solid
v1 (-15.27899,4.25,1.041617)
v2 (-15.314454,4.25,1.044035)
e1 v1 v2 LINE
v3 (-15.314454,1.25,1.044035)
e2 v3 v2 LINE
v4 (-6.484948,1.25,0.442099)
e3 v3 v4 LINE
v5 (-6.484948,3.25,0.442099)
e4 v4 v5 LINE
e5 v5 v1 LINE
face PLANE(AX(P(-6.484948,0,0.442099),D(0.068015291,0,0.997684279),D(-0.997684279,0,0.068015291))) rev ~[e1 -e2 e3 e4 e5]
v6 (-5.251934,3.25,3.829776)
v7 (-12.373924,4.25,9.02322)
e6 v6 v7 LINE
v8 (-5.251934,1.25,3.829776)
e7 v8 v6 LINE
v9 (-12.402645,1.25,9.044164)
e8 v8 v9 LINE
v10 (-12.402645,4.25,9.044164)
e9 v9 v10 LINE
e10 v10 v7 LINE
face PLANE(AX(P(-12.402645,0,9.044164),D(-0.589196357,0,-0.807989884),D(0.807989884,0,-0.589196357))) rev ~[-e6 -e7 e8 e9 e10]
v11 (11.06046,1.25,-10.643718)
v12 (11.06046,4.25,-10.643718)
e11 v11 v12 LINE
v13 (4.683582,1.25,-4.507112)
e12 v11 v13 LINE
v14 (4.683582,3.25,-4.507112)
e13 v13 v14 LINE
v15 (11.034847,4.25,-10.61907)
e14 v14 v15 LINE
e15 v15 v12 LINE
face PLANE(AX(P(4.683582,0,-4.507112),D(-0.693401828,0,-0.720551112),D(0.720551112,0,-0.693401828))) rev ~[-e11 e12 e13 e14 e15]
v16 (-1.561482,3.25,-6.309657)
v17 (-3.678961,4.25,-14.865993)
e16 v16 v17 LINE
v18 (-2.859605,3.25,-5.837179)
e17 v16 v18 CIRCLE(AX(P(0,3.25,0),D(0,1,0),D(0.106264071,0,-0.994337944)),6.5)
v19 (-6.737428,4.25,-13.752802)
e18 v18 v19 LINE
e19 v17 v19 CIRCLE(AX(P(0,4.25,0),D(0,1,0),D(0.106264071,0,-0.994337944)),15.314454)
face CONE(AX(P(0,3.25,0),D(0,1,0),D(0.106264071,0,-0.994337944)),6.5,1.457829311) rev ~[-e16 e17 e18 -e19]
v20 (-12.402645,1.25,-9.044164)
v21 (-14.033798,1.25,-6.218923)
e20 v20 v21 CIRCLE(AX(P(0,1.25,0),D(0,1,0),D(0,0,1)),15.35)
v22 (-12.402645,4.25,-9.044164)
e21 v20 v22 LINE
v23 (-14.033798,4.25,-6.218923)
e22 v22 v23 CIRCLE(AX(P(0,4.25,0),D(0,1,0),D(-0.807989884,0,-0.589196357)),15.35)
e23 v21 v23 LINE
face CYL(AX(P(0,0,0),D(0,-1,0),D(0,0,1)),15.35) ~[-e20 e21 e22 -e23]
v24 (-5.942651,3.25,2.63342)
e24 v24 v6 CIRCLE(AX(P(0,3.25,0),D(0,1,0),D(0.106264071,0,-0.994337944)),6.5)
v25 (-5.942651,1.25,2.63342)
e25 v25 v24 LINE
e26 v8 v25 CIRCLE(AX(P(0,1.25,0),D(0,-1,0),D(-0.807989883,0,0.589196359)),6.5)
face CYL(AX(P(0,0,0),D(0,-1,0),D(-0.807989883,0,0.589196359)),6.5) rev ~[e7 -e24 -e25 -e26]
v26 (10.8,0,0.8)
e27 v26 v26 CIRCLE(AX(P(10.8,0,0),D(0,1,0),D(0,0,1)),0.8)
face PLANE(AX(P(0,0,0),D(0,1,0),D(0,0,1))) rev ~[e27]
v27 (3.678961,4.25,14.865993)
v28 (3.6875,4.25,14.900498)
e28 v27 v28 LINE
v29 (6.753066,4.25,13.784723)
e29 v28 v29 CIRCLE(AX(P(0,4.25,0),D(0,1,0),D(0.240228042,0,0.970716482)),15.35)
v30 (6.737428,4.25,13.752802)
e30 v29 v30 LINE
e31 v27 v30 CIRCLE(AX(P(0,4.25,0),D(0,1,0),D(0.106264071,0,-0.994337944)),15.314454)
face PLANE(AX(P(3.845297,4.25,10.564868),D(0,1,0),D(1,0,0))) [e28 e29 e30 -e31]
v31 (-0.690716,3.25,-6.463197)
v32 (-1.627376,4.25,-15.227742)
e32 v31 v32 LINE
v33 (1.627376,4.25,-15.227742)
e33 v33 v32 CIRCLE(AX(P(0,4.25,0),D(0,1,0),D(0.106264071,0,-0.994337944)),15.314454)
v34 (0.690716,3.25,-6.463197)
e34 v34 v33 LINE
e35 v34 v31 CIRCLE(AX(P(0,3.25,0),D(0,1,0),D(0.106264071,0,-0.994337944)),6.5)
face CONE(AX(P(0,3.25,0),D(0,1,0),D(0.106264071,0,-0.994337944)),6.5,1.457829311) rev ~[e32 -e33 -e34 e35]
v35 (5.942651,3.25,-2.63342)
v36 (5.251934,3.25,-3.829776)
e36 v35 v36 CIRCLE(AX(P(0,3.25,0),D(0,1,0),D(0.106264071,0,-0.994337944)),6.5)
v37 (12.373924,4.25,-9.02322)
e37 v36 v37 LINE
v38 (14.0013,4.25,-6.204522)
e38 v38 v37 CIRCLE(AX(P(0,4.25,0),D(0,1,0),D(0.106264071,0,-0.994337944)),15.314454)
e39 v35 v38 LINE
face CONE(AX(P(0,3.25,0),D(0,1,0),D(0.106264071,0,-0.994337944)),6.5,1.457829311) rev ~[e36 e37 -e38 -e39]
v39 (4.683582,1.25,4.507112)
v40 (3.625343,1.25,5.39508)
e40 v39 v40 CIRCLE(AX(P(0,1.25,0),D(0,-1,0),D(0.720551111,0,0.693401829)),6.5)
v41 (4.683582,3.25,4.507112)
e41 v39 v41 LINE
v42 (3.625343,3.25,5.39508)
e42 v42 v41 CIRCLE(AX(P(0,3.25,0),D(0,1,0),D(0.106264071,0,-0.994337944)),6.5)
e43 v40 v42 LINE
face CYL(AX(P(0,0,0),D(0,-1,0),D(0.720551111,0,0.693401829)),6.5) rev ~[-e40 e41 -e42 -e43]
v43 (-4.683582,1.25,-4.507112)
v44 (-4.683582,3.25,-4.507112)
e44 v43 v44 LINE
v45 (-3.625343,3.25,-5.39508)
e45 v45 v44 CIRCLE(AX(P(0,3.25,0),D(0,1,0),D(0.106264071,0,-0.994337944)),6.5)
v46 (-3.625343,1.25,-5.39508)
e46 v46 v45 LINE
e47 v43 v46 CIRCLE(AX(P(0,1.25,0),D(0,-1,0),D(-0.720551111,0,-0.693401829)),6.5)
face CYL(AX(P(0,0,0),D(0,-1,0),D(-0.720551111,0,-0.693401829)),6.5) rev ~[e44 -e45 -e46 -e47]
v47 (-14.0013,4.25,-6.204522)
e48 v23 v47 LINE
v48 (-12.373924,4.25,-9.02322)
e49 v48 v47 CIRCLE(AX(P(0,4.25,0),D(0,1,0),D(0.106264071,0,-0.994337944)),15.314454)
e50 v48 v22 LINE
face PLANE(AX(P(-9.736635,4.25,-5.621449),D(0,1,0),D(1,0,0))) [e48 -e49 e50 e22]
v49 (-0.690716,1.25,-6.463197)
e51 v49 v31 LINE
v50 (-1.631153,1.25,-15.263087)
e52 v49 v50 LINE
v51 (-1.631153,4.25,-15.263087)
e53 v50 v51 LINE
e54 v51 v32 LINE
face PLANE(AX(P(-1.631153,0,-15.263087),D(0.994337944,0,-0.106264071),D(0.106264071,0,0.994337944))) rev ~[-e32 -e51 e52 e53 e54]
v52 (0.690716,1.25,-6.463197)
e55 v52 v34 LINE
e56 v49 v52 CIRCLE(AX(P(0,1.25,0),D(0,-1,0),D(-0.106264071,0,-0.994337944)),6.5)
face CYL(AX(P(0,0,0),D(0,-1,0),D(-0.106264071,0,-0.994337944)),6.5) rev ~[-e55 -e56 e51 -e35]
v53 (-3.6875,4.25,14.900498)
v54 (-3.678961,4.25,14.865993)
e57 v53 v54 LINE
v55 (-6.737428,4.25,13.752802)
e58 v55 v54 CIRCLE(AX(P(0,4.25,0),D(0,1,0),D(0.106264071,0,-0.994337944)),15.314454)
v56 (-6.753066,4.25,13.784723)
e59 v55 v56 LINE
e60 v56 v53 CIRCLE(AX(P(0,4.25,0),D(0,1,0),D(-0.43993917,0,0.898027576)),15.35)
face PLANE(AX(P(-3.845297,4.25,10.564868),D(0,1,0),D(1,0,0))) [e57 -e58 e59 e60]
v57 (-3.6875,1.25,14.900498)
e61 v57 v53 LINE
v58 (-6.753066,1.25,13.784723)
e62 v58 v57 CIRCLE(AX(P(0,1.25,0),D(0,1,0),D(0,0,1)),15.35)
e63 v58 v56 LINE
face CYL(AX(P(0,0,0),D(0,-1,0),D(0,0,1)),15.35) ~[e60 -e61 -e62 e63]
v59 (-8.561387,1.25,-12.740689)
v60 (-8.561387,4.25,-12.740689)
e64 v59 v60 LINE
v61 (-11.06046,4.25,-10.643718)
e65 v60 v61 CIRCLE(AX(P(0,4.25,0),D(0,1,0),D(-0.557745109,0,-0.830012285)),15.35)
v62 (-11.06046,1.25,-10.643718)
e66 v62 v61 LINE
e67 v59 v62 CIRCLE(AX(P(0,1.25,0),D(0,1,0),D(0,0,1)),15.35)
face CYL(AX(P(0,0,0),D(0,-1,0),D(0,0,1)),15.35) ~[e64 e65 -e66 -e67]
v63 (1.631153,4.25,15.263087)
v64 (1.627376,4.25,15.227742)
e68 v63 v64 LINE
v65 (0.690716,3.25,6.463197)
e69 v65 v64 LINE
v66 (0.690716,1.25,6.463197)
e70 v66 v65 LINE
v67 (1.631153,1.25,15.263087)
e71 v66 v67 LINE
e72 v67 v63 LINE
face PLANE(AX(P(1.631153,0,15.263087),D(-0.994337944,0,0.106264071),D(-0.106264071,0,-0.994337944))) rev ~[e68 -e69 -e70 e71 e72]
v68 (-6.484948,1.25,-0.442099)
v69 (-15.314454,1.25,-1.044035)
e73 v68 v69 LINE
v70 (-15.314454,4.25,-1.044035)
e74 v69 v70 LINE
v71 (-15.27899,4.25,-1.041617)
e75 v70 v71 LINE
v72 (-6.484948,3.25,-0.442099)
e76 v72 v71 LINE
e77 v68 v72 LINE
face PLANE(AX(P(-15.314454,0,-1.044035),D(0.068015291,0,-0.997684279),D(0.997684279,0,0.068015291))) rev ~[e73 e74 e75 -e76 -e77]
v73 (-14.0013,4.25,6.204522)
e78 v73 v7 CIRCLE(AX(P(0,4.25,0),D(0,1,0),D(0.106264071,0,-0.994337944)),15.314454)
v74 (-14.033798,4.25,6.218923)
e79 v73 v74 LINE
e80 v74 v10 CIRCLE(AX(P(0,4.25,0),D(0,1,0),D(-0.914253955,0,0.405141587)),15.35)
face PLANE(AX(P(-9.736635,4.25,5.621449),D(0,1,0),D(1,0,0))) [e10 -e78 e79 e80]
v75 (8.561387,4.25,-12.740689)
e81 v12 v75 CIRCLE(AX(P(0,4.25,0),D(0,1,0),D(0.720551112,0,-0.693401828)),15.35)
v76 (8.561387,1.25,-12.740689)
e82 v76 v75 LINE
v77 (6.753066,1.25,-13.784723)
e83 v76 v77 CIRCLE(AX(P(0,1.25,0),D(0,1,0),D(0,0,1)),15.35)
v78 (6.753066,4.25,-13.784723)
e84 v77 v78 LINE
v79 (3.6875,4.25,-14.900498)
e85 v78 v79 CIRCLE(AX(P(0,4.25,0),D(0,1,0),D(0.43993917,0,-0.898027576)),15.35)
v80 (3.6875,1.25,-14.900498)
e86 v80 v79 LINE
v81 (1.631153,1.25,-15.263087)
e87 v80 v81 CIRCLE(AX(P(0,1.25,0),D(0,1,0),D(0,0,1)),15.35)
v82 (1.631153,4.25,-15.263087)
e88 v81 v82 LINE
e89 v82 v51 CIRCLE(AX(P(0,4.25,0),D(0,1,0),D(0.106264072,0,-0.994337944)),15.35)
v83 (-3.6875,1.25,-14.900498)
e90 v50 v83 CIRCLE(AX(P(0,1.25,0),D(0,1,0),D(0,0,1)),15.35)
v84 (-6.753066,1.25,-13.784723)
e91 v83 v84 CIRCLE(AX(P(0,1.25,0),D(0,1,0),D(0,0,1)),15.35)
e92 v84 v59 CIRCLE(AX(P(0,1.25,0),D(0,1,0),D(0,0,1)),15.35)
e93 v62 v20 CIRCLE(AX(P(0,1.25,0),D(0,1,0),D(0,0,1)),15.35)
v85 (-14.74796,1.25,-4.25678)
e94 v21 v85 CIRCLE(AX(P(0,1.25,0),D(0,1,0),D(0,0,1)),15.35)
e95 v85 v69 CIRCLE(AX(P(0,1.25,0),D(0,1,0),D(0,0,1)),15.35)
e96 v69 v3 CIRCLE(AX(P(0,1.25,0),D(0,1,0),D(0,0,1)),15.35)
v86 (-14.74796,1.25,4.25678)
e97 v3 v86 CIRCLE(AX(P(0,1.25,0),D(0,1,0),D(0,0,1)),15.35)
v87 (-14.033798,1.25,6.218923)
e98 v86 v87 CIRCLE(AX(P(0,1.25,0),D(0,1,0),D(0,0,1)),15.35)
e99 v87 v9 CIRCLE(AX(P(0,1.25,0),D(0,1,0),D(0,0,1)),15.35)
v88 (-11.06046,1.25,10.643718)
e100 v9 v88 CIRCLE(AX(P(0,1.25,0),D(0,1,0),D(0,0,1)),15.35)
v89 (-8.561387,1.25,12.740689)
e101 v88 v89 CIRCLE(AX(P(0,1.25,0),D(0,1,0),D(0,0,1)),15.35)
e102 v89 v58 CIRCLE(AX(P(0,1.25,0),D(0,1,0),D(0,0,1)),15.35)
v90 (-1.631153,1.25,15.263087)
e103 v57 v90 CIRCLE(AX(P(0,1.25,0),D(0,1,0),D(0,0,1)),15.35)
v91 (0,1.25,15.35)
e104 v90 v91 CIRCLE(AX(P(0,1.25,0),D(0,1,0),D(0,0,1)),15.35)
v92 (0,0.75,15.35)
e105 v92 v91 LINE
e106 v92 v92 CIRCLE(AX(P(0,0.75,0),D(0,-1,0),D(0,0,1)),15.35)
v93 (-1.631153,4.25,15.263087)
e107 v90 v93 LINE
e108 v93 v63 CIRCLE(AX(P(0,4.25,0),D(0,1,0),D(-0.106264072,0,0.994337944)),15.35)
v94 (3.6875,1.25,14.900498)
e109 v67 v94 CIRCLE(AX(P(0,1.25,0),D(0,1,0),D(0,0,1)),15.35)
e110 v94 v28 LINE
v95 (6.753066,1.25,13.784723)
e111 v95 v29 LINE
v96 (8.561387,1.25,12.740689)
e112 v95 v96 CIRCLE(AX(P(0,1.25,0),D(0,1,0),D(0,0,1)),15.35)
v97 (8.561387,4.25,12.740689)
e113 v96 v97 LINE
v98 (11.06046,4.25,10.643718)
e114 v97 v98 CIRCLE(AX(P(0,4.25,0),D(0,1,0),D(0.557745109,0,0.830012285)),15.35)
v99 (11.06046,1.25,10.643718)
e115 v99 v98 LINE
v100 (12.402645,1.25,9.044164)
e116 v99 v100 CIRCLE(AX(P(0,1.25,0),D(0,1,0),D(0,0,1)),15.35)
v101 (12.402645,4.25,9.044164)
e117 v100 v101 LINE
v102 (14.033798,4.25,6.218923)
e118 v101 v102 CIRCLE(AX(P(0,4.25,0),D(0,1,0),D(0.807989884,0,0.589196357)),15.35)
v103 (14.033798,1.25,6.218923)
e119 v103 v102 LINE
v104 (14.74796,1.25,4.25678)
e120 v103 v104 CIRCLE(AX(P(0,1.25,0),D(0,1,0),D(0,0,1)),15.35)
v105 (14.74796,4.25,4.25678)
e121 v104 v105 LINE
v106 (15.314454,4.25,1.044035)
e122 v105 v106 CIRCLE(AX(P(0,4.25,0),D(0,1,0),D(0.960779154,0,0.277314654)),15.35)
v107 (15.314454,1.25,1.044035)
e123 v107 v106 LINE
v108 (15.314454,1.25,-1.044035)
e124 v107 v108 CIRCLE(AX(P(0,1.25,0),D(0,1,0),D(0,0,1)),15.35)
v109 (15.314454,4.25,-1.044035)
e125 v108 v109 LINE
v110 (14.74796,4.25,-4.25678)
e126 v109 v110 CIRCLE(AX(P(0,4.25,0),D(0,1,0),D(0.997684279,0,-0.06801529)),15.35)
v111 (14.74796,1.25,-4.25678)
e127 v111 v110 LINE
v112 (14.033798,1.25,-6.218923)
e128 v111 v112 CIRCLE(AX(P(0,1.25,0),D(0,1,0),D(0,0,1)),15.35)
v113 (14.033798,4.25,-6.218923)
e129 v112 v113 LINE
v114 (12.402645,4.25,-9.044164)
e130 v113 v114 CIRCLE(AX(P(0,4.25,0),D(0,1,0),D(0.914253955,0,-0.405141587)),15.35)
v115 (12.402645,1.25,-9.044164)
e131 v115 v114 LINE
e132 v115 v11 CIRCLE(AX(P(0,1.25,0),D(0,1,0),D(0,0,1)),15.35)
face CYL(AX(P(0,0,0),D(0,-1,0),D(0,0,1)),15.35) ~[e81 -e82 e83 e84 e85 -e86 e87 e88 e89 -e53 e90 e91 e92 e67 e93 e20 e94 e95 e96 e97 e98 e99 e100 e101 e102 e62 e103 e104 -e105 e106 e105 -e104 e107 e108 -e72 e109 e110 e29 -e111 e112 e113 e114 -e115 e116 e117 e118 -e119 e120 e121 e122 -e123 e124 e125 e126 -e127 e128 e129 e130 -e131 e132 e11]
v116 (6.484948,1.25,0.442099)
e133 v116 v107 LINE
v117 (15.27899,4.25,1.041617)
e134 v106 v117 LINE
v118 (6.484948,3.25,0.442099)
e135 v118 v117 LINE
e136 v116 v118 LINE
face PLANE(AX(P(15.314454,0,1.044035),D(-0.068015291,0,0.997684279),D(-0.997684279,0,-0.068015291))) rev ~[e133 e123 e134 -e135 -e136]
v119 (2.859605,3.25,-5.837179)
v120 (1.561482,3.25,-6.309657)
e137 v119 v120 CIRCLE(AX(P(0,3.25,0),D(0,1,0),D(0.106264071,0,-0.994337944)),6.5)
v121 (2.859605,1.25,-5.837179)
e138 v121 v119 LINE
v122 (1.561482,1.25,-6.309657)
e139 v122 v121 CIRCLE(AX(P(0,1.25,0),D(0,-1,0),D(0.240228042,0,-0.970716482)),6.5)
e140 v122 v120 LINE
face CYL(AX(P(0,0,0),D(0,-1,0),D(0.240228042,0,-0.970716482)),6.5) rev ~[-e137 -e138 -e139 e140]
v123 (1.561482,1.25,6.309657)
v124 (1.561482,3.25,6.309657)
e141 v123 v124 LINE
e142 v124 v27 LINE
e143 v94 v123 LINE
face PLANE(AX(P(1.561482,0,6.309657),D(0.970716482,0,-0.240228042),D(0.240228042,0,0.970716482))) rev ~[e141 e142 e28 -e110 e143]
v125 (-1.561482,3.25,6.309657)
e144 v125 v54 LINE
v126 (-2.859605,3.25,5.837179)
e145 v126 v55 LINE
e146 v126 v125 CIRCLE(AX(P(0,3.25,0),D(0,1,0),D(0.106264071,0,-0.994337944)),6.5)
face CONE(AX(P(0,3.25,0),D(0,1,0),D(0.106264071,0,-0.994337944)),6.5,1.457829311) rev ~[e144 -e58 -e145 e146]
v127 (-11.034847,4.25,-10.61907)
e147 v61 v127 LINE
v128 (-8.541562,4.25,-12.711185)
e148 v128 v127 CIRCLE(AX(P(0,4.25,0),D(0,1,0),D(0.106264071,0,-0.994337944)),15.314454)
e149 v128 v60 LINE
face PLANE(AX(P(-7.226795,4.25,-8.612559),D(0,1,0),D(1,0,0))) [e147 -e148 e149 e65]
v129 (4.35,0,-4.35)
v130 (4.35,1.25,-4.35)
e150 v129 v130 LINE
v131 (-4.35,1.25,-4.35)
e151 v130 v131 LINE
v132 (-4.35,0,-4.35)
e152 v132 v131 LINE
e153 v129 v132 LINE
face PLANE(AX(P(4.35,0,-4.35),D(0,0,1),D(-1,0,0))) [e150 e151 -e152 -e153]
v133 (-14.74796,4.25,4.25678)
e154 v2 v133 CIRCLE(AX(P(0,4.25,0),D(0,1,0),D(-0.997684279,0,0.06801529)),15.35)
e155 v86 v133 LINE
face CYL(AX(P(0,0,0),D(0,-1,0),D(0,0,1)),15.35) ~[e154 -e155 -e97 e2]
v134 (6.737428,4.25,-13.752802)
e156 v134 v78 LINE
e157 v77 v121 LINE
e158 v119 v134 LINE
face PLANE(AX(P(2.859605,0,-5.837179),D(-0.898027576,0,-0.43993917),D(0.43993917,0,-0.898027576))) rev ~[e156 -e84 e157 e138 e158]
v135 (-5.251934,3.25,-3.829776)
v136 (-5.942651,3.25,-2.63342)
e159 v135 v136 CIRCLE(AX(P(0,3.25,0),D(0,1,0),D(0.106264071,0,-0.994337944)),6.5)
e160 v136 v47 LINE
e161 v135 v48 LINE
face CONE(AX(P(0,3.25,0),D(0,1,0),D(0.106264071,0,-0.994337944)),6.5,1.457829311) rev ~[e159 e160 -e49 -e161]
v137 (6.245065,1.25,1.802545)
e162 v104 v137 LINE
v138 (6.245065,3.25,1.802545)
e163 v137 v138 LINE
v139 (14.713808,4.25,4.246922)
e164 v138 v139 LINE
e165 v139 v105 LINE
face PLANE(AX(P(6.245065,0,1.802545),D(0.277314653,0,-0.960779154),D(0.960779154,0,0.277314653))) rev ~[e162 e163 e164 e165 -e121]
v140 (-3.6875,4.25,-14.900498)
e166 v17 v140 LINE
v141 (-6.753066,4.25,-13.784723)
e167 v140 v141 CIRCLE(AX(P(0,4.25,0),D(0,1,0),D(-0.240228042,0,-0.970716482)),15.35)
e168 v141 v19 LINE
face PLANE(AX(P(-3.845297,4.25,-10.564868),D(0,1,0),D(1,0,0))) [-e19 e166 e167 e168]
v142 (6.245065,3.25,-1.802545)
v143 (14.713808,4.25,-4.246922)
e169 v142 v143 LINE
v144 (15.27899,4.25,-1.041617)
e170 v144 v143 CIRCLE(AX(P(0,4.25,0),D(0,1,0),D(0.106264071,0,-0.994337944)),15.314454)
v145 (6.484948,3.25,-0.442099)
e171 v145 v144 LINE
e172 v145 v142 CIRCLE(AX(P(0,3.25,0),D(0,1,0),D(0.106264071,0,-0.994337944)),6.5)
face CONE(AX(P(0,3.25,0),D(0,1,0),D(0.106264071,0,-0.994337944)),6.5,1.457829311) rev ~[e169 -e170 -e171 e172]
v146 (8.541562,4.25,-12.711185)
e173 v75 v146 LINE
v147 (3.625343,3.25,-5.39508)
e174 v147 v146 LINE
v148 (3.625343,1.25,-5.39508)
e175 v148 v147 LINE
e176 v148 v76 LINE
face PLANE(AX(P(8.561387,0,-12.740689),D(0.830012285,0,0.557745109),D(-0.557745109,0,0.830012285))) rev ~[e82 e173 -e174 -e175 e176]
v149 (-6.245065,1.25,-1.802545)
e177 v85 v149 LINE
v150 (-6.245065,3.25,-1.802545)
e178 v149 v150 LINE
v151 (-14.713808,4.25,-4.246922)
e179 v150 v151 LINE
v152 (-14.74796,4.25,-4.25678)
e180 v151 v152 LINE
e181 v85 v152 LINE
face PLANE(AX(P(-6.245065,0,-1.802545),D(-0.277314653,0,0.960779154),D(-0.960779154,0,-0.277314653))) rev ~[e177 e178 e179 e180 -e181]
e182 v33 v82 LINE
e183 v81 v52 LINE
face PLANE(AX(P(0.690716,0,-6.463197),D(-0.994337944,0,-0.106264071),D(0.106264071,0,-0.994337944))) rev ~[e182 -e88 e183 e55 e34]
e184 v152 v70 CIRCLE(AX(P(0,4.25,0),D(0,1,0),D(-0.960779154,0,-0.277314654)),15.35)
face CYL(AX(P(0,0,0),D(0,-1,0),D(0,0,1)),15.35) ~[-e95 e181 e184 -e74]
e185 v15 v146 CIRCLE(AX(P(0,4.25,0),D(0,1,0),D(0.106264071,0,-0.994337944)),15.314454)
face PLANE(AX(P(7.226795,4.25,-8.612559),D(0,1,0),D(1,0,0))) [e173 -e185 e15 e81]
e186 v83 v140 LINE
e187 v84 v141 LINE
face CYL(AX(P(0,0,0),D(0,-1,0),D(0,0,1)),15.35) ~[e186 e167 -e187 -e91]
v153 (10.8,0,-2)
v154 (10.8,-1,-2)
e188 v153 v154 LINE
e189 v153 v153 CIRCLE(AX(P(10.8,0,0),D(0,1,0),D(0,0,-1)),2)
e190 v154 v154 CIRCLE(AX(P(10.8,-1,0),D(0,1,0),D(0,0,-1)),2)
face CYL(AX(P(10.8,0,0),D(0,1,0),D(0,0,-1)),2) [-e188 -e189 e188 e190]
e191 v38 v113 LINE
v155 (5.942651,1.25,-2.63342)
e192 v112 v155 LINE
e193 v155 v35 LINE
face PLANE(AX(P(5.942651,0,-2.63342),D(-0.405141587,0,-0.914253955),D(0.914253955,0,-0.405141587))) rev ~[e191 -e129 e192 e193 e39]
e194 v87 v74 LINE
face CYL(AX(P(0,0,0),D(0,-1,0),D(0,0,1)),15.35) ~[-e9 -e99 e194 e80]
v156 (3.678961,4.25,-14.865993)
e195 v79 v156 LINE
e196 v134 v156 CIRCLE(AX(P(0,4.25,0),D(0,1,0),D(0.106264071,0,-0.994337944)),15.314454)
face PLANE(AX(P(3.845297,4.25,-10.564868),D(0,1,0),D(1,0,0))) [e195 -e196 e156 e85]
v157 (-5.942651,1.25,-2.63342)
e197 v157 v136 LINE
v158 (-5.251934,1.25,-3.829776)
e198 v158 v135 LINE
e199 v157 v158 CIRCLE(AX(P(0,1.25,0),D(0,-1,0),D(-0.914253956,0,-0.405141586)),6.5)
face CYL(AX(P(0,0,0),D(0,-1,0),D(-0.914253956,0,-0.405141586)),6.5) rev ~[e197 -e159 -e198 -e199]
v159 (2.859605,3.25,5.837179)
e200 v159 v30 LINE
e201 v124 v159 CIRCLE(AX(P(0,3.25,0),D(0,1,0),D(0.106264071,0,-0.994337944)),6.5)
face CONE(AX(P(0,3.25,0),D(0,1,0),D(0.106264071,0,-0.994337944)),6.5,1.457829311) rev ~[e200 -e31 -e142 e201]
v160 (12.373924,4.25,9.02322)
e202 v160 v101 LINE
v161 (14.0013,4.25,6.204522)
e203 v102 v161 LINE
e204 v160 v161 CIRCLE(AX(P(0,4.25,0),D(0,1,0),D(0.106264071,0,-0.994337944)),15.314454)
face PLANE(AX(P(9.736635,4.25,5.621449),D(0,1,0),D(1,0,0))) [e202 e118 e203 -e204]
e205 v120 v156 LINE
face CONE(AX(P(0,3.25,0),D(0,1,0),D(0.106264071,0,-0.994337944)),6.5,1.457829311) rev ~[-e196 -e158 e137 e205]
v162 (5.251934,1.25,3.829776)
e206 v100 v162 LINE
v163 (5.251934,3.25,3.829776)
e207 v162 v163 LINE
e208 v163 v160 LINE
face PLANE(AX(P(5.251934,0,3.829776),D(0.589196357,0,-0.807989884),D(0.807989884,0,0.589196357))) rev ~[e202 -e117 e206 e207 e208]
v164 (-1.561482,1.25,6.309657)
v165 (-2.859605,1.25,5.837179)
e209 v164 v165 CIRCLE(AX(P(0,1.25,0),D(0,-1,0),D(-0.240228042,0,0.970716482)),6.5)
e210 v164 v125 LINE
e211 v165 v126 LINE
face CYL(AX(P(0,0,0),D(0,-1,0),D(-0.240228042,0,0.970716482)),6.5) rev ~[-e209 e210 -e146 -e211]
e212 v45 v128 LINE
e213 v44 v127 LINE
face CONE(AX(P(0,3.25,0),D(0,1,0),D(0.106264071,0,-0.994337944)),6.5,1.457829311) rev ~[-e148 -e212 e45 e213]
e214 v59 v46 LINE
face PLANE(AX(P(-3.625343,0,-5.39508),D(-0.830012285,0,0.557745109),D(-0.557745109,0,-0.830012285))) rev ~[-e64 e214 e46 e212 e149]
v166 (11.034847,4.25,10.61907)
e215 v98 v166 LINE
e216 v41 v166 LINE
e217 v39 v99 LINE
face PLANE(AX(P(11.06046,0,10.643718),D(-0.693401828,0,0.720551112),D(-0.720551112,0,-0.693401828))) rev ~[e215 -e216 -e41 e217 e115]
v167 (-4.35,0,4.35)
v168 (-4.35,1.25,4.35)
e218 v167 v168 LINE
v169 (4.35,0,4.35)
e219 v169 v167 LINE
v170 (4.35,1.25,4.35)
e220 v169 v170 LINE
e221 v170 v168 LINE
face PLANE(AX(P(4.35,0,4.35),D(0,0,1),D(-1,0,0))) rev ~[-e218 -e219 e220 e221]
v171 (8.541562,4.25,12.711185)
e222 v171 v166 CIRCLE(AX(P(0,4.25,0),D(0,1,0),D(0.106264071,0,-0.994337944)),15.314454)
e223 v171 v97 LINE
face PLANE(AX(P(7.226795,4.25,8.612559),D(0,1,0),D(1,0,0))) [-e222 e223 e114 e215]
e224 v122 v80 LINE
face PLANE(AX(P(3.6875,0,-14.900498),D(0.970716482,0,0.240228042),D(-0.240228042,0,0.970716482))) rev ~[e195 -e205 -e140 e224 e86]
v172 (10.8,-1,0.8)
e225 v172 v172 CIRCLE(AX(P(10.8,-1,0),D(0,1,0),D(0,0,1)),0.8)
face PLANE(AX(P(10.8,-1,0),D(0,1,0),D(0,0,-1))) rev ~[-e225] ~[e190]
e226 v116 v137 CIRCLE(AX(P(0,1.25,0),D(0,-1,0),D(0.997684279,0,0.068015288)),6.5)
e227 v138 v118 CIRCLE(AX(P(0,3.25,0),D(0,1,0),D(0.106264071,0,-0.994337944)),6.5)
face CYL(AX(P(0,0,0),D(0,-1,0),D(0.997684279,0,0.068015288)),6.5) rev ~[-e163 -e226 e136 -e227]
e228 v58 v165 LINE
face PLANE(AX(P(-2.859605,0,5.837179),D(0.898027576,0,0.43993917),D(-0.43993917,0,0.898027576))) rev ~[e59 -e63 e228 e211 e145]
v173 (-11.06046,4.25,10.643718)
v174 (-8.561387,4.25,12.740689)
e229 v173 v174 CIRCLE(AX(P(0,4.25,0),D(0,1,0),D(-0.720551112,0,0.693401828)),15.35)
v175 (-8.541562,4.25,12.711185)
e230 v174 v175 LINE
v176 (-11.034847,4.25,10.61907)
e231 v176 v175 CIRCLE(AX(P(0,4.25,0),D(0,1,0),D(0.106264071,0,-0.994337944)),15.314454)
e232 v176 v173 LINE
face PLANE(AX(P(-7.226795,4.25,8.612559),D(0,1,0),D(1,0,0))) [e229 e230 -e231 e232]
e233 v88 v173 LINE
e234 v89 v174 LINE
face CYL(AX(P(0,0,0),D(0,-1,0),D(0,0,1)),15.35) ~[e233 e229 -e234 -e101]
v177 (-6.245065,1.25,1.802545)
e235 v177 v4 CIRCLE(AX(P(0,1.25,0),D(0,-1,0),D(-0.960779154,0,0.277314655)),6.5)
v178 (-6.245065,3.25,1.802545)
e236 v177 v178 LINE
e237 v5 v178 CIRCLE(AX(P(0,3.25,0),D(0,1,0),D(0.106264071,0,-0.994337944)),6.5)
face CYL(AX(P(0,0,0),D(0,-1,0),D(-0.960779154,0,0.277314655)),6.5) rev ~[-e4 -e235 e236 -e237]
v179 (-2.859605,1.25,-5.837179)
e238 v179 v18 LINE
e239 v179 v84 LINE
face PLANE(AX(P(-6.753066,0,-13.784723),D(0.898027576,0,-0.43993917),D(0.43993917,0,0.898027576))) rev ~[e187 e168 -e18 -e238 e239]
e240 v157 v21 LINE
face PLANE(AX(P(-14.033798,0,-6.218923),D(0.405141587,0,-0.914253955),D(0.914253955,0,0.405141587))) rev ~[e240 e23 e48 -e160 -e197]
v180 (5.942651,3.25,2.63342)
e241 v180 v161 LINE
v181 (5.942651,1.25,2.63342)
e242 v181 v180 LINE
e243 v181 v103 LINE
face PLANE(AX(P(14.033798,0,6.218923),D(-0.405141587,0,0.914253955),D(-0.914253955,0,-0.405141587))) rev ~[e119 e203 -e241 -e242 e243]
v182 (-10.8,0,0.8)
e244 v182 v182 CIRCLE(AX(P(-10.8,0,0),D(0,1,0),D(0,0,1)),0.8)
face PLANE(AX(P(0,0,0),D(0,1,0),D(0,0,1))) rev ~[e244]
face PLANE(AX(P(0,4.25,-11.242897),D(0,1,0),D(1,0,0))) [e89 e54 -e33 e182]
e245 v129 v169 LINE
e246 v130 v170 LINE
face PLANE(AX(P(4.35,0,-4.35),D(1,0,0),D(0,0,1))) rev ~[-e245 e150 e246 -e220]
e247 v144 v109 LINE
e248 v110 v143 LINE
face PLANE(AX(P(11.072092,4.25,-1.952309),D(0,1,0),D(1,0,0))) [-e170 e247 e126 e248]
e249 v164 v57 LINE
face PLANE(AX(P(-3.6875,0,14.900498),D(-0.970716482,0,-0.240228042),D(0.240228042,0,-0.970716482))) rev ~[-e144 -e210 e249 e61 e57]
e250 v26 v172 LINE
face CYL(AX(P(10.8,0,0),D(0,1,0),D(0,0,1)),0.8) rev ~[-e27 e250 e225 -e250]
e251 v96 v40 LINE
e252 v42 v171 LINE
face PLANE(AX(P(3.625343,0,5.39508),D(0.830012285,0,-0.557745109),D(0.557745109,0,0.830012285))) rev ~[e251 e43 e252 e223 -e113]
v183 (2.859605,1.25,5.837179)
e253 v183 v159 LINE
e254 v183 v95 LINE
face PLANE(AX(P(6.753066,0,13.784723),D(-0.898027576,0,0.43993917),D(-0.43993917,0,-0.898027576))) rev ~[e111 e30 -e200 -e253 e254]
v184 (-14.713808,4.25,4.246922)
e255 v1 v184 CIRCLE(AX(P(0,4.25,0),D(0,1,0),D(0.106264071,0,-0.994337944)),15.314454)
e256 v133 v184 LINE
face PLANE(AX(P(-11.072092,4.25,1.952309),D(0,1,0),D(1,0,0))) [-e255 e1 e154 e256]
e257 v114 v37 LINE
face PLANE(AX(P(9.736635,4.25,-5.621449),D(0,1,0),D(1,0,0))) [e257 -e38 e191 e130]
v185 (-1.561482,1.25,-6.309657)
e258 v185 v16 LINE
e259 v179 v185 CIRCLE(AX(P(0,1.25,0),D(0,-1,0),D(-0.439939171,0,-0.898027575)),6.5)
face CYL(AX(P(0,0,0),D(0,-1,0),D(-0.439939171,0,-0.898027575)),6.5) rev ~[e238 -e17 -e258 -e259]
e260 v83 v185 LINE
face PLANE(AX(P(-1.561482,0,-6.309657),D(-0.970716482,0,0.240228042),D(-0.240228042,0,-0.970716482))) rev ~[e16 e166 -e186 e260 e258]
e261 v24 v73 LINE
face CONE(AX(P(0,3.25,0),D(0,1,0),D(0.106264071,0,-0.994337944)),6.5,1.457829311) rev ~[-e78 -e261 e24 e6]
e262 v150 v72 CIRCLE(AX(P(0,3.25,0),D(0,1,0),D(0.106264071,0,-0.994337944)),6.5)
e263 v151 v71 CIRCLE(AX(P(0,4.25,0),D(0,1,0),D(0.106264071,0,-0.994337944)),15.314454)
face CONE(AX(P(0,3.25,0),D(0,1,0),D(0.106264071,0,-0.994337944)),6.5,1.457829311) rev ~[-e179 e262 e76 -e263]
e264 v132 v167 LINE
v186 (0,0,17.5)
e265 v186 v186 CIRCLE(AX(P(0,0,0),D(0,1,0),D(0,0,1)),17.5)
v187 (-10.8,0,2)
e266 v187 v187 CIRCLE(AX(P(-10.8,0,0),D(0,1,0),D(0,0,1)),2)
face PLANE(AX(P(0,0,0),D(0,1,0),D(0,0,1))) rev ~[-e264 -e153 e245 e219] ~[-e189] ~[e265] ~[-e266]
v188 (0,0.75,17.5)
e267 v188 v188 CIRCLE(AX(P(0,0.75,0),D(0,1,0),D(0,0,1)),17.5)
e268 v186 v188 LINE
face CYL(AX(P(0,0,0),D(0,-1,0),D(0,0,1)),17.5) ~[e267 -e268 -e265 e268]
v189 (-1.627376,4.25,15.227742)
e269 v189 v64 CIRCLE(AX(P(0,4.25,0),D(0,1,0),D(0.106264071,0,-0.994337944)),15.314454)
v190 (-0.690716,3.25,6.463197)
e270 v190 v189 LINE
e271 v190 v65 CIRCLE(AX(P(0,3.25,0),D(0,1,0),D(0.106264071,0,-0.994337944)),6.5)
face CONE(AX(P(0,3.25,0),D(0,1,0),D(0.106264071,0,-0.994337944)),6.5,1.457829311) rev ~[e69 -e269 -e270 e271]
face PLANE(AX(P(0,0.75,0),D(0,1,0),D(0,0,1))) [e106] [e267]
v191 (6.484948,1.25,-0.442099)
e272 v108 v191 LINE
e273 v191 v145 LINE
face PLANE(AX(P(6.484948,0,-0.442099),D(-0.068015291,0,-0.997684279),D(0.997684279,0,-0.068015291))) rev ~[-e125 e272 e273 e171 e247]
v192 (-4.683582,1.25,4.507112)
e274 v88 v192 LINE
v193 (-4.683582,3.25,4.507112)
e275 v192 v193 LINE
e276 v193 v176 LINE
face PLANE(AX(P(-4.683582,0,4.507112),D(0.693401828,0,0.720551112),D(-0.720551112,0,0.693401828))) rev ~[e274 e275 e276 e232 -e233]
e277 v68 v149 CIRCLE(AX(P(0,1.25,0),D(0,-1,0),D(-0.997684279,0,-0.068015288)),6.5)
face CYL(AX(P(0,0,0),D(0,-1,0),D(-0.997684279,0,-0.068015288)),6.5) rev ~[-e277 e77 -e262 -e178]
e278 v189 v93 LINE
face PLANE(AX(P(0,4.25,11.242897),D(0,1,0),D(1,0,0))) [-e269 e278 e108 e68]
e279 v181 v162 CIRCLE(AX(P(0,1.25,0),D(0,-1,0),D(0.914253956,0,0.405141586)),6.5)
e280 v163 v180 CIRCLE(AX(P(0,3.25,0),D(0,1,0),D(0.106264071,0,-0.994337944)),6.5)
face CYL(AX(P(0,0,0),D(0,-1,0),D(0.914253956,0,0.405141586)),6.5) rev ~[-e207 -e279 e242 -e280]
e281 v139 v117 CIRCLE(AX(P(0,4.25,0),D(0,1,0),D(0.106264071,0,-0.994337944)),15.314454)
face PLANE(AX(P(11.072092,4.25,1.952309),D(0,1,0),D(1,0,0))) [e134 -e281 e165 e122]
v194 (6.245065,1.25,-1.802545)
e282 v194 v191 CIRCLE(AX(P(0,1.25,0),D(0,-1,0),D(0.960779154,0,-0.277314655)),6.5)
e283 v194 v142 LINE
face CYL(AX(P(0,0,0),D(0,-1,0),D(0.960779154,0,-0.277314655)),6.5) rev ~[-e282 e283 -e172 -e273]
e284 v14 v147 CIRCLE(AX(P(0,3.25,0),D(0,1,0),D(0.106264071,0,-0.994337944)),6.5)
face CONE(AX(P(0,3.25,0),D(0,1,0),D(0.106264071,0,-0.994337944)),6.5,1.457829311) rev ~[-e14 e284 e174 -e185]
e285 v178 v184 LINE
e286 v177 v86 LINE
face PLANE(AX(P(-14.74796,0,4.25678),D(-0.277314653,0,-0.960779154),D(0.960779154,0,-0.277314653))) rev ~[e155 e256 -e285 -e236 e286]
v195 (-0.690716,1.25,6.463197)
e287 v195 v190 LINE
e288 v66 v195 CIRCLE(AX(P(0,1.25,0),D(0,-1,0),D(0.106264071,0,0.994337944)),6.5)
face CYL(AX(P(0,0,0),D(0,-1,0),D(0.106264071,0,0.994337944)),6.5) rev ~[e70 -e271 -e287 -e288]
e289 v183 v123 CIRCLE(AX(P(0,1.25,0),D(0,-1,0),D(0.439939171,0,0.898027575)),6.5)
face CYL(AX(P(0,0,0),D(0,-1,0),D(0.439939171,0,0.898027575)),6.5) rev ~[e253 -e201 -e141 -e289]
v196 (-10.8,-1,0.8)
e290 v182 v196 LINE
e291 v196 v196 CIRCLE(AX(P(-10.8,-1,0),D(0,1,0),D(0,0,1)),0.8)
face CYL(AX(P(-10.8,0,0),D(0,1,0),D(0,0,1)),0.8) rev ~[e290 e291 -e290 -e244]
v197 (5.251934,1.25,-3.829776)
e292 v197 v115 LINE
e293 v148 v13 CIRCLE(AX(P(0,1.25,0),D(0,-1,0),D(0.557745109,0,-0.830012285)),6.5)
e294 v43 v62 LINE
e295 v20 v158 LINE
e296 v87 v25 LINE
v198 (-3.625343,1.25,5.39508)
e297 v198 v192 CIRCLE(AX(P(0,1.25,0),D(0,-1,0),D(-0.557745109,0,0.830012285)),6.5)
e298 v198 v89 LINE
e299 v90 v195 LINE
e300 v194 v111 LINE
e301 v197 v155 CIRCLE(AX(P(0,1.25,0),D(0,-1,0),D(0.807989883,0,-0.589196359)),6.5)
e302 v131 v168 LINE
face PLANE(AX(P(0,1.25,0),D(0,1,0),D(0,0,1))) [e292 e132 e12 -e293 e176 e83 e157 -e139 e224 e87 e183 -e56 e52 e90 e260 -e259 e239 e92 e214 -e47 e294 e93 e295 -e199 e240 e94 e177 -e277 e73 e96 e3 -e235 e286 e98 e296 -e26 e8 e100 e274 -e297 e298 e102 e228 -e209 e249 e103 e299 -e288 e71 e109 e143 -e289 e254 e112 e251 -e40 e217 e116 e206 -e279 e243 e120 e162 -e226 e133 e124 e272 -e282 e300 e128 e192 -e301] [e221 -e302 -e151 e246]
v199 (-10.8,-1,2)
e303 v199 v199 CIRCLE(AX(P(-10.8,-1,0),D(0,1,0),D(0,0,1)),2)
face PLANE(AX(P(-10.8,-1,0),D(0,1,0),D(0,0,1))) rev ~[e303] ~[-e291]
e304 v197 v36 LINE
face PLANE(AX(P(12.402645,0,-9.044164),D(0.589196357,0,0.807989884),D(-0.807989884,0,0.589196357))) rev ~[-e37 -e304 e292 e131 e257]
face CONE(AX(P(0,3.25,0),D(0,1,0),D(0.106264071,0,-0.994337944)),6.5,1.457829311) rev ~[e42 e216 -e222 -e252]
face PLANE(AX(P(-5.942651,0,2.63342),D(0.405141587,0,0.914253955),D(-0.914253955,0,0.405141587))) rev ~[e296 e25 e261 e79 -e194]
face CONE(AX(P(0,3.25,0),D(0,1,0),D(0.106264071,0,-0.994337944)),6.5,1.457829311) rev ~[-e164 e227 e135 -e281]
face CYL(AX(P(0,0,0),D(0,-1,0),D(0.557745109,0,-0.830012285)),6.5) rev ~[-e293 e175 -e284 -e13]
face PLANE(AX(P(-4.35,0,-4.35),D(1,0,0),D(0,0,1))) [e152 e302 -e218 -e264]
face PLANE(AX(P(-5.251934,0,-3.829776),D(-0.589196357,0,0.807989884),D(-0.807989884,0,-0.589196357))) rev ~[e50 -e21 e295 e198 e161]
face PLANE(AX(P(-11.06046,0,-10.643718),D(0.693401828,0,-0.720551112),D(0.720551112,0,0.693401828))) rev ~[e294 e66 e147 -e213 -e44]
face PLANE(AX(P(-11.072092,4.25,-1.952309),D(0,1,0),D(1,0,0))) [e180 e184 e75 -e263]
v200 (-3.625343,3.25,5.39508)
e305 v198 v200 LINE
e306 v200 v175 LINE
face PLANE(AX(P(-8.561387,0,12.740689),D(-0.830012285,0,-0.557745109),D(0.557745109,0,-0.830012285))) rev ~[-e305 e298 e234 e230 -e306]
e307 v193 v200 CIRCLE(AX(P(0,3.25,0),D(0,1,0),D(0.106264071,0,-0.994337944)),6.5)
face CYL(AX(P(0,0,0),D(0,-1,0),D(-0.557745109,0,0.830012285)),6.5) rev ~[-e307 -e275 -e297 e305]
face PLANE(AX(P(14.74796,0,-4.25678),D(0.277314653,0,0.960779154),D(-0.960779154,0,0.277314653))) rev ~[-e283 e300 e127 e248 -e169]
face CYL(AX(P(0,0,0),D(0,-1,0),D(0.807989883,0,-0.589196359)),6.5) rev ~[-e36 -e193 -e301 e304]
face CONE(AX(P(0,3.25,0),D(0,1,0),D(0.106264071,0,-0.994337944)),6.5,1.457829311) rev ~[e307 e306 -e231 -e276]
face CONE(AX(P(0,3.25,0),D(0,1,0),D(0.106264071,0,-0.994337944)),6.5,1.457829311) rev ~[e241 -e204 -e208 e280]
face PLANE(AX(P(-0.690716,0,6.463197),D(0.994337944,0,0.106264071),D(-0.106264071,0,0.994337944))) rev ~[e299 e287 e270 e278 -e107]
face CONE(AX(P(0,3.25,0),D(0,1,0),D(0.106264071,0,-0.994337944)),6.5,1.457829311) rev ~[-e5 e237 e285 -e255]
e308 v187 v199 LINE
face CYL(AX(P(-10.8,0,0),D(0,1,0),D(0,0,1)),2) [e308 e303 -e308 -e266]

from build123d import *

# Parameters (mm, degrees)
SKETCH2_R           = 15.35
BOSS_EXTRUDE3_DEPTH = 1.25
SKETCH5_W           = 8.7
SKETCH5_H           = 8.7
CUT_EXTRUDE3_DEPTH  = 1.25
BOSS_EXTRUDE4_DEPTH = 4.25
SKETCH1_R           = 17.5
SKETCH1_R_2         = 15.35
BOSS_EXTRUDE5_DEPTH = 0.75
SKETCH8_R           = 2
SKETCH8_R_2         = 0.8
BOSS_EXTRUDE6_DEPTH = 1


with BuildPart() as part:
    # Sketch2 → Boss-Extrude3 (new body)
    with BuildSketch(Plane(origin=(0, 0, 0), x_dir=(1, 0, 0), z_dir=(0, 1, 0))):
        with Locations(Location((0, 0, 0), (0, 0, 270))):
            Circle(SKETCH2_R)
    extrude(amount=BOSS_EXTRUDE3_DEPTH)

    # Sketch5 → Cut-Extrude3 (cut)
    with BuildSketch(Plane(origin=(0, 0, 0), x_dir=(-1, 0, 0), z_dir=(0, 1, 0))):
        Rectangle(SKETCH5_W, SKETCH5_H)
    extrude(amount=CUT_EXTRUDE3_DEPTH, mode=Mode.SUBTRACT)

    # Sketch3 → Boss-Extrude4 (add)
    with BuildSketch(Plane(origin=(0, 0, 0), x_dir=(1, 0, 0), z_dir=(0, 1, 0))):
        with BuildLine():
            Line((-1.631153495, 15.263087442), (-0.690716464, 6.463196637))
            ThreePointArc((-0.690716464, 6.463196637), (0, 6.5), (0.690716464, 6.463196637))
            Line((0.690716464, 6.463196637), (1.631153495, 15.263087442))
            ThreePointArc((1.631153495, 15.263087442), (0, 15.35), (-1.631153495, 15.263087442))
        make_face()
        with BuildLine():
            Line((3.687500452, 14.900497992), (1.561482276, 6.30965713))
            ThreePointArc((1.561482276, 6.30965713), (2.223130932, 6.108002035), (2.859604604, 5.837179242))
            Line((2.859604604, 5.837179242), (6.753066257, 13.784723288))
            ThreePointArc((6.753066257, 13.784723288), (5.2500092, 14.424281729), (3.687500452, 14.900497992))
        make_face()
        with BuildLine():
            Line((8.561387423, 12.740688576), (3.625343208, 5.395079853))
            ThreePointArc((3.625343208, 5.395079853), (4.178119463, 4.97928888), (4.683582226, 4.507111884))
            Line((4.683582226, 4.507111884), (11.060459564, 10.643718064))
            ThreePointArc((11.060459564, 10.643718064), (9.866789809, 11.758782202), (8.561387423, 12.740688576))
        make_face()
        with BuildLine():
            Line((12.402644718, 9.044164085), (5.251934245, 3.829776323))
            ThreePointArc((5.251934245, 3.829776323), (5.629165125, 3.25), (5.942650709, 2.633420314))
            Line((5.942650709, 2.633420314), (14.033798213, 6.218923357))
            ThreePointArc((14.033798213, 6.218923357), (13.293489948, 7.675), (12.402644718, 9.044164085))
        make_face()
        with BuildLine():
            Line((14.747960016, 4.256779928), (6.245064502, 1.802545246))
            ThreePointArc((6.245064502, 1.802545246), (6.401250395, 1.128713155), (6.484947812, 0.442099389))
            Line((6.484947812, 0.442099389), (15.31445368, 1.044034712))
            ThreePointArc((15.31445368, 1.044034712), (15.116799009, 2.665499527), (14.747960016, 4.256779928))
        make_face()
        with BuildLine():
            Line((15.31445368, -1.044034712), (6.484947812, -0.442099389))
            ThreePointArc((6.484947812, -0.442099389), (6.401250395, -1.128713155), (6.245064502, -1.802545246))
            Line((6.245064502, -1.802545246), (14.747960016, -4.256779928))
            ThreePointArc((14.747960016, -4.256779928), (15.116799009, -2.665499527), (15.31445368, -1.044034712))
        make_face()
        with BuildLine():
            Line((14.033798213, -6.218923357), (5.942650709, -2.633420314))
            ThreePointArc((5.942650709, -2.633420314), (5.629165125, -3.25), (5.251934245, -3.829776323))
            Line((5.251934245, -3.829776323), (12.402644718, -9.044164085))
            ThreePointArc((12.402644718, -9.044164085), (13.293489948, -7.675), (14.033798213, -6.218923357))
        make_face()
        with BuildLine():
            Line((11.060459564, -10.643718064), (4.683582226, -4.507111884))
            ThreePointArc((4.683582226, -4.507111884), (4.178119463, -4.97928888), (3.625343208, -5.395079853))
            Line((3.625343208, -5.395079853), (8.561387423, -12.740688576))
            ThreePointArc((8.561387423, -12.740688576), (9.866789809, -11.758782202), (11.060459564, -10.643718064))
        make_face()
        with BuildLine():
            Line((6.753066257, -13.784723288), (2.859604604, -5.837179242))
            ThreePointArc((2.859604604, -5.837179242), (2.223130932, -6.108002035), (1.561482276, -6.30965713))
            Line((1.561482276, -6.30965713), (3.687500452, -14.900497992))
            ThreePointArc((3.687500452, -14.900497992), (5.2500092, -14.424281729), (6.753066257, -13.784723288))
        make_face()
        with BuildLine():
            Line((1.631153495, -15.263087442), (0.690716464, -6.463196637))
            ThreePointArc((0.690716464, -6.463196637), (0, -6.5), (-0.690716464, -6.463196637))
            Line((-0.690716464, -6.463196637), (-1.631153495, -15.263087442))
            ThreePointArc((-1.631153495, -15.263087442), (0, -15.35), (1.631153495, -15.263087442))
        make_face()
        with BuildLine():
            Line((-3.687500452, -14.900497992), (-1.561482276, -6.30965713))
            ThreePointArc((-1.561482276, -6.30965713), (-2.223130932, -6.108002035), (-2.859604604, -5.837179242))
            Line((-2.859604604, -5.837179242), (-6.753066257, -13.784723288))
            ThreePointArc((-6.753066257, -13.784723288), (-5.2500092, -14.424281729), (-3.687500452, -14.900497992))
        make_face()
        with BuildLine():
            Line((-8.561387423, -12.740688576), (-3.625343208, -5.395079853))
            ThreePointArc((-3.625343208, -5.395079853), (-4.178119463, -4.97928888), (-4.683582226, -4.507111884))
            Line((-4.683582226, -4.507111884), (-11.060459564, -10.643718064))
            ThreePointArc((-11.060459564, -10.643718064), (-9.866789809, -11.758782202), (-8.561387423, -12.740688576))
        make_face()
        with BuildLine():
            Line((-12.402644718, -9.044164085), (-5.251934245, -3.829776323))
            ThreePointArc((-5.251934245, -3.829776323), (-5.629165125, -3.25), (-5.942650709, -2.633420314))
            Line((-5.942650709, -2.633420314), (-14.033798213, -6.218923357))
            ThreePointArc((-14.033798213, -6.218923357), (-13.293489948, -7.675), (-12.402644718, -9.044164085))
        make_face()
        with BuildLine():
            Line((-14.747960016, -4.256779928), (-6.245064502, -1.802545246))
            ThreePointArc((-6.245064502, -1.802545246), (-6.401250395, -1.128713155), (-6.484947812, -0.442099389))
            Line((-6.484947812, -0.442099389), (-15.31445368, -1.044034712))
            ThreePointArc((-15.31445368, -1.044034712), (-15.116799009, -2.665499527), (-14.747960016, -4.256779928))
        make_face()
        with BuildLine():
            Line((-15.31445368, 1.044034712), (-6.484947812, 0.442099389))
            ThreePointArc((-6.484947812, 0.442099389), (-6.401250395, 1.128713155), (-6.245064502, 1.802545246))
            Line((-6.245064502, 1.802545246), (-14.747960016, 4.256779928))
            ThreePointArc((-14.747960016, 4.256779928), (-15.116799009, 2.665499527), (-15.31445368, 1.044034712))
        make_face()
        with BuildLine():
            Line((-14.033798213, 6.218923357), (-5.942650709, 2.633420314))
            ThreePointArc((-5.942650709, 2.633420314), (-5.629165125, 3.25), (-5.251934245, 3.829776323))
            Line((-5.251934245, 3.829776323), (-12.402644718, 9.044164085))
            ThreePointArc((-12.402644718, 9.044164085), (-13.293489948, 7.675), (-14.033798213, 6.218923357))
        make_face()
        with BuildLine():
            Line((-11.060459564, 10.643718064), (-4.683582226, 4.507111884))
            ThreePointArc((-4.683582226, 4.507111884), (-4.178119463, 4.97928888), (-3.625343208, 5.395079853))
            Line((-3.625343208, 5.395079853), (-8.561387423, 12.740688576))
            ThreePointArc((-8.561387423, 12.740688576), (-9.866789809, 11.758782202), (-11.060459564, 10.643718064))
        make_face()
        with BuildLine():
            Line((-6.753066257, 13.784723288), (-2.859604604, 5.837179242))
            ThreePointArc((-2.859604604, 5.837179242), (-2.223130932, 6.108002035), (-1.561482276, 6.30965713))
            Line((-1.561482276, 6.30965713), (-3.687500452, 14.900497992))
            ThreePointArc((-3.687500452, 14.900497992), (-5.2500092, 14.424281729), (-6.753066257, 13.784723288))
        make_face()
    extrude(amount=BOSS_EXTRUDE4_DEPTH)

    # Sketch7 → Cut-Revolve1 (revolve, cut)
    with BuildSketch(Plane.XY, mode=Mode.PRIVATE) as cut_revolve1_sk:
        Polygon((6.5, 3.25), (15.31445368, 4.25), (6.5, 4.25), align=None)
    revolve(cut_revolve1_sk.sketch.rotate(Axis((0, 3.25, 0), (0, 1, 0)), 83.9), axis=Axis((0, 3.25, 0), (0, 1, 0)), mode=Mode.SUBTRACT)

    # Sketch1 → Boss-Extrude5 (add)
    with BuildSketch(Plane(origin=(0, 0, 0), x_dir=(1, 0, 0), z_dir=(0, 1, 0))):
        with Locations(Location((0, 0, 0), (0, 0, 270))):
            Circle(SKETCH1_R)
        with Locations(Location((0, 0, 0), (0, 0, 83.9))):
            Circle(SKETCH1_R_2, mode=Mode.SUBTRACT)
    extrude(amount=BOSS_EXTRUDE5_DEPTH)

    # Sketch8 → Boss-Extrude6 (add)
    # profile 1 of 2: a face of its own
    with BuildSketch(Plane(origin=(0, 0, 0), x_dir=(1, 0, 0), z_dir=(0, 1, 0))):
        with Locations(Location((-10.8, 0, 0), (0, 0, 270))):
            Circle(SKETCH8_R)
        with Locations(Location((-10.8, 0, 0), (0, 0, 270))):
            Circle(SKETCH8_R_2, mode=Mode.SUBTRACT)
    # profile 2 of 2: a face of its own
    with BuildSketch(Plane(origin=(0, 0, 0), x_dir=(1, 0, 0), z_dir=(0, 1, 0))):
        with Locations(Location((10.8, 0, 0), (0, 0, 90))):
            Circle(SKETCH8_R)
        with Locations(Location((10.8, 0, 0), (0, 0, 270))):
            Circle(SKETCH8_R_2, mode=Mode.SUBTRACT)
    extrude(amount=-BOSS_EXTRUDE6_DEPTH)


solid = part.part
